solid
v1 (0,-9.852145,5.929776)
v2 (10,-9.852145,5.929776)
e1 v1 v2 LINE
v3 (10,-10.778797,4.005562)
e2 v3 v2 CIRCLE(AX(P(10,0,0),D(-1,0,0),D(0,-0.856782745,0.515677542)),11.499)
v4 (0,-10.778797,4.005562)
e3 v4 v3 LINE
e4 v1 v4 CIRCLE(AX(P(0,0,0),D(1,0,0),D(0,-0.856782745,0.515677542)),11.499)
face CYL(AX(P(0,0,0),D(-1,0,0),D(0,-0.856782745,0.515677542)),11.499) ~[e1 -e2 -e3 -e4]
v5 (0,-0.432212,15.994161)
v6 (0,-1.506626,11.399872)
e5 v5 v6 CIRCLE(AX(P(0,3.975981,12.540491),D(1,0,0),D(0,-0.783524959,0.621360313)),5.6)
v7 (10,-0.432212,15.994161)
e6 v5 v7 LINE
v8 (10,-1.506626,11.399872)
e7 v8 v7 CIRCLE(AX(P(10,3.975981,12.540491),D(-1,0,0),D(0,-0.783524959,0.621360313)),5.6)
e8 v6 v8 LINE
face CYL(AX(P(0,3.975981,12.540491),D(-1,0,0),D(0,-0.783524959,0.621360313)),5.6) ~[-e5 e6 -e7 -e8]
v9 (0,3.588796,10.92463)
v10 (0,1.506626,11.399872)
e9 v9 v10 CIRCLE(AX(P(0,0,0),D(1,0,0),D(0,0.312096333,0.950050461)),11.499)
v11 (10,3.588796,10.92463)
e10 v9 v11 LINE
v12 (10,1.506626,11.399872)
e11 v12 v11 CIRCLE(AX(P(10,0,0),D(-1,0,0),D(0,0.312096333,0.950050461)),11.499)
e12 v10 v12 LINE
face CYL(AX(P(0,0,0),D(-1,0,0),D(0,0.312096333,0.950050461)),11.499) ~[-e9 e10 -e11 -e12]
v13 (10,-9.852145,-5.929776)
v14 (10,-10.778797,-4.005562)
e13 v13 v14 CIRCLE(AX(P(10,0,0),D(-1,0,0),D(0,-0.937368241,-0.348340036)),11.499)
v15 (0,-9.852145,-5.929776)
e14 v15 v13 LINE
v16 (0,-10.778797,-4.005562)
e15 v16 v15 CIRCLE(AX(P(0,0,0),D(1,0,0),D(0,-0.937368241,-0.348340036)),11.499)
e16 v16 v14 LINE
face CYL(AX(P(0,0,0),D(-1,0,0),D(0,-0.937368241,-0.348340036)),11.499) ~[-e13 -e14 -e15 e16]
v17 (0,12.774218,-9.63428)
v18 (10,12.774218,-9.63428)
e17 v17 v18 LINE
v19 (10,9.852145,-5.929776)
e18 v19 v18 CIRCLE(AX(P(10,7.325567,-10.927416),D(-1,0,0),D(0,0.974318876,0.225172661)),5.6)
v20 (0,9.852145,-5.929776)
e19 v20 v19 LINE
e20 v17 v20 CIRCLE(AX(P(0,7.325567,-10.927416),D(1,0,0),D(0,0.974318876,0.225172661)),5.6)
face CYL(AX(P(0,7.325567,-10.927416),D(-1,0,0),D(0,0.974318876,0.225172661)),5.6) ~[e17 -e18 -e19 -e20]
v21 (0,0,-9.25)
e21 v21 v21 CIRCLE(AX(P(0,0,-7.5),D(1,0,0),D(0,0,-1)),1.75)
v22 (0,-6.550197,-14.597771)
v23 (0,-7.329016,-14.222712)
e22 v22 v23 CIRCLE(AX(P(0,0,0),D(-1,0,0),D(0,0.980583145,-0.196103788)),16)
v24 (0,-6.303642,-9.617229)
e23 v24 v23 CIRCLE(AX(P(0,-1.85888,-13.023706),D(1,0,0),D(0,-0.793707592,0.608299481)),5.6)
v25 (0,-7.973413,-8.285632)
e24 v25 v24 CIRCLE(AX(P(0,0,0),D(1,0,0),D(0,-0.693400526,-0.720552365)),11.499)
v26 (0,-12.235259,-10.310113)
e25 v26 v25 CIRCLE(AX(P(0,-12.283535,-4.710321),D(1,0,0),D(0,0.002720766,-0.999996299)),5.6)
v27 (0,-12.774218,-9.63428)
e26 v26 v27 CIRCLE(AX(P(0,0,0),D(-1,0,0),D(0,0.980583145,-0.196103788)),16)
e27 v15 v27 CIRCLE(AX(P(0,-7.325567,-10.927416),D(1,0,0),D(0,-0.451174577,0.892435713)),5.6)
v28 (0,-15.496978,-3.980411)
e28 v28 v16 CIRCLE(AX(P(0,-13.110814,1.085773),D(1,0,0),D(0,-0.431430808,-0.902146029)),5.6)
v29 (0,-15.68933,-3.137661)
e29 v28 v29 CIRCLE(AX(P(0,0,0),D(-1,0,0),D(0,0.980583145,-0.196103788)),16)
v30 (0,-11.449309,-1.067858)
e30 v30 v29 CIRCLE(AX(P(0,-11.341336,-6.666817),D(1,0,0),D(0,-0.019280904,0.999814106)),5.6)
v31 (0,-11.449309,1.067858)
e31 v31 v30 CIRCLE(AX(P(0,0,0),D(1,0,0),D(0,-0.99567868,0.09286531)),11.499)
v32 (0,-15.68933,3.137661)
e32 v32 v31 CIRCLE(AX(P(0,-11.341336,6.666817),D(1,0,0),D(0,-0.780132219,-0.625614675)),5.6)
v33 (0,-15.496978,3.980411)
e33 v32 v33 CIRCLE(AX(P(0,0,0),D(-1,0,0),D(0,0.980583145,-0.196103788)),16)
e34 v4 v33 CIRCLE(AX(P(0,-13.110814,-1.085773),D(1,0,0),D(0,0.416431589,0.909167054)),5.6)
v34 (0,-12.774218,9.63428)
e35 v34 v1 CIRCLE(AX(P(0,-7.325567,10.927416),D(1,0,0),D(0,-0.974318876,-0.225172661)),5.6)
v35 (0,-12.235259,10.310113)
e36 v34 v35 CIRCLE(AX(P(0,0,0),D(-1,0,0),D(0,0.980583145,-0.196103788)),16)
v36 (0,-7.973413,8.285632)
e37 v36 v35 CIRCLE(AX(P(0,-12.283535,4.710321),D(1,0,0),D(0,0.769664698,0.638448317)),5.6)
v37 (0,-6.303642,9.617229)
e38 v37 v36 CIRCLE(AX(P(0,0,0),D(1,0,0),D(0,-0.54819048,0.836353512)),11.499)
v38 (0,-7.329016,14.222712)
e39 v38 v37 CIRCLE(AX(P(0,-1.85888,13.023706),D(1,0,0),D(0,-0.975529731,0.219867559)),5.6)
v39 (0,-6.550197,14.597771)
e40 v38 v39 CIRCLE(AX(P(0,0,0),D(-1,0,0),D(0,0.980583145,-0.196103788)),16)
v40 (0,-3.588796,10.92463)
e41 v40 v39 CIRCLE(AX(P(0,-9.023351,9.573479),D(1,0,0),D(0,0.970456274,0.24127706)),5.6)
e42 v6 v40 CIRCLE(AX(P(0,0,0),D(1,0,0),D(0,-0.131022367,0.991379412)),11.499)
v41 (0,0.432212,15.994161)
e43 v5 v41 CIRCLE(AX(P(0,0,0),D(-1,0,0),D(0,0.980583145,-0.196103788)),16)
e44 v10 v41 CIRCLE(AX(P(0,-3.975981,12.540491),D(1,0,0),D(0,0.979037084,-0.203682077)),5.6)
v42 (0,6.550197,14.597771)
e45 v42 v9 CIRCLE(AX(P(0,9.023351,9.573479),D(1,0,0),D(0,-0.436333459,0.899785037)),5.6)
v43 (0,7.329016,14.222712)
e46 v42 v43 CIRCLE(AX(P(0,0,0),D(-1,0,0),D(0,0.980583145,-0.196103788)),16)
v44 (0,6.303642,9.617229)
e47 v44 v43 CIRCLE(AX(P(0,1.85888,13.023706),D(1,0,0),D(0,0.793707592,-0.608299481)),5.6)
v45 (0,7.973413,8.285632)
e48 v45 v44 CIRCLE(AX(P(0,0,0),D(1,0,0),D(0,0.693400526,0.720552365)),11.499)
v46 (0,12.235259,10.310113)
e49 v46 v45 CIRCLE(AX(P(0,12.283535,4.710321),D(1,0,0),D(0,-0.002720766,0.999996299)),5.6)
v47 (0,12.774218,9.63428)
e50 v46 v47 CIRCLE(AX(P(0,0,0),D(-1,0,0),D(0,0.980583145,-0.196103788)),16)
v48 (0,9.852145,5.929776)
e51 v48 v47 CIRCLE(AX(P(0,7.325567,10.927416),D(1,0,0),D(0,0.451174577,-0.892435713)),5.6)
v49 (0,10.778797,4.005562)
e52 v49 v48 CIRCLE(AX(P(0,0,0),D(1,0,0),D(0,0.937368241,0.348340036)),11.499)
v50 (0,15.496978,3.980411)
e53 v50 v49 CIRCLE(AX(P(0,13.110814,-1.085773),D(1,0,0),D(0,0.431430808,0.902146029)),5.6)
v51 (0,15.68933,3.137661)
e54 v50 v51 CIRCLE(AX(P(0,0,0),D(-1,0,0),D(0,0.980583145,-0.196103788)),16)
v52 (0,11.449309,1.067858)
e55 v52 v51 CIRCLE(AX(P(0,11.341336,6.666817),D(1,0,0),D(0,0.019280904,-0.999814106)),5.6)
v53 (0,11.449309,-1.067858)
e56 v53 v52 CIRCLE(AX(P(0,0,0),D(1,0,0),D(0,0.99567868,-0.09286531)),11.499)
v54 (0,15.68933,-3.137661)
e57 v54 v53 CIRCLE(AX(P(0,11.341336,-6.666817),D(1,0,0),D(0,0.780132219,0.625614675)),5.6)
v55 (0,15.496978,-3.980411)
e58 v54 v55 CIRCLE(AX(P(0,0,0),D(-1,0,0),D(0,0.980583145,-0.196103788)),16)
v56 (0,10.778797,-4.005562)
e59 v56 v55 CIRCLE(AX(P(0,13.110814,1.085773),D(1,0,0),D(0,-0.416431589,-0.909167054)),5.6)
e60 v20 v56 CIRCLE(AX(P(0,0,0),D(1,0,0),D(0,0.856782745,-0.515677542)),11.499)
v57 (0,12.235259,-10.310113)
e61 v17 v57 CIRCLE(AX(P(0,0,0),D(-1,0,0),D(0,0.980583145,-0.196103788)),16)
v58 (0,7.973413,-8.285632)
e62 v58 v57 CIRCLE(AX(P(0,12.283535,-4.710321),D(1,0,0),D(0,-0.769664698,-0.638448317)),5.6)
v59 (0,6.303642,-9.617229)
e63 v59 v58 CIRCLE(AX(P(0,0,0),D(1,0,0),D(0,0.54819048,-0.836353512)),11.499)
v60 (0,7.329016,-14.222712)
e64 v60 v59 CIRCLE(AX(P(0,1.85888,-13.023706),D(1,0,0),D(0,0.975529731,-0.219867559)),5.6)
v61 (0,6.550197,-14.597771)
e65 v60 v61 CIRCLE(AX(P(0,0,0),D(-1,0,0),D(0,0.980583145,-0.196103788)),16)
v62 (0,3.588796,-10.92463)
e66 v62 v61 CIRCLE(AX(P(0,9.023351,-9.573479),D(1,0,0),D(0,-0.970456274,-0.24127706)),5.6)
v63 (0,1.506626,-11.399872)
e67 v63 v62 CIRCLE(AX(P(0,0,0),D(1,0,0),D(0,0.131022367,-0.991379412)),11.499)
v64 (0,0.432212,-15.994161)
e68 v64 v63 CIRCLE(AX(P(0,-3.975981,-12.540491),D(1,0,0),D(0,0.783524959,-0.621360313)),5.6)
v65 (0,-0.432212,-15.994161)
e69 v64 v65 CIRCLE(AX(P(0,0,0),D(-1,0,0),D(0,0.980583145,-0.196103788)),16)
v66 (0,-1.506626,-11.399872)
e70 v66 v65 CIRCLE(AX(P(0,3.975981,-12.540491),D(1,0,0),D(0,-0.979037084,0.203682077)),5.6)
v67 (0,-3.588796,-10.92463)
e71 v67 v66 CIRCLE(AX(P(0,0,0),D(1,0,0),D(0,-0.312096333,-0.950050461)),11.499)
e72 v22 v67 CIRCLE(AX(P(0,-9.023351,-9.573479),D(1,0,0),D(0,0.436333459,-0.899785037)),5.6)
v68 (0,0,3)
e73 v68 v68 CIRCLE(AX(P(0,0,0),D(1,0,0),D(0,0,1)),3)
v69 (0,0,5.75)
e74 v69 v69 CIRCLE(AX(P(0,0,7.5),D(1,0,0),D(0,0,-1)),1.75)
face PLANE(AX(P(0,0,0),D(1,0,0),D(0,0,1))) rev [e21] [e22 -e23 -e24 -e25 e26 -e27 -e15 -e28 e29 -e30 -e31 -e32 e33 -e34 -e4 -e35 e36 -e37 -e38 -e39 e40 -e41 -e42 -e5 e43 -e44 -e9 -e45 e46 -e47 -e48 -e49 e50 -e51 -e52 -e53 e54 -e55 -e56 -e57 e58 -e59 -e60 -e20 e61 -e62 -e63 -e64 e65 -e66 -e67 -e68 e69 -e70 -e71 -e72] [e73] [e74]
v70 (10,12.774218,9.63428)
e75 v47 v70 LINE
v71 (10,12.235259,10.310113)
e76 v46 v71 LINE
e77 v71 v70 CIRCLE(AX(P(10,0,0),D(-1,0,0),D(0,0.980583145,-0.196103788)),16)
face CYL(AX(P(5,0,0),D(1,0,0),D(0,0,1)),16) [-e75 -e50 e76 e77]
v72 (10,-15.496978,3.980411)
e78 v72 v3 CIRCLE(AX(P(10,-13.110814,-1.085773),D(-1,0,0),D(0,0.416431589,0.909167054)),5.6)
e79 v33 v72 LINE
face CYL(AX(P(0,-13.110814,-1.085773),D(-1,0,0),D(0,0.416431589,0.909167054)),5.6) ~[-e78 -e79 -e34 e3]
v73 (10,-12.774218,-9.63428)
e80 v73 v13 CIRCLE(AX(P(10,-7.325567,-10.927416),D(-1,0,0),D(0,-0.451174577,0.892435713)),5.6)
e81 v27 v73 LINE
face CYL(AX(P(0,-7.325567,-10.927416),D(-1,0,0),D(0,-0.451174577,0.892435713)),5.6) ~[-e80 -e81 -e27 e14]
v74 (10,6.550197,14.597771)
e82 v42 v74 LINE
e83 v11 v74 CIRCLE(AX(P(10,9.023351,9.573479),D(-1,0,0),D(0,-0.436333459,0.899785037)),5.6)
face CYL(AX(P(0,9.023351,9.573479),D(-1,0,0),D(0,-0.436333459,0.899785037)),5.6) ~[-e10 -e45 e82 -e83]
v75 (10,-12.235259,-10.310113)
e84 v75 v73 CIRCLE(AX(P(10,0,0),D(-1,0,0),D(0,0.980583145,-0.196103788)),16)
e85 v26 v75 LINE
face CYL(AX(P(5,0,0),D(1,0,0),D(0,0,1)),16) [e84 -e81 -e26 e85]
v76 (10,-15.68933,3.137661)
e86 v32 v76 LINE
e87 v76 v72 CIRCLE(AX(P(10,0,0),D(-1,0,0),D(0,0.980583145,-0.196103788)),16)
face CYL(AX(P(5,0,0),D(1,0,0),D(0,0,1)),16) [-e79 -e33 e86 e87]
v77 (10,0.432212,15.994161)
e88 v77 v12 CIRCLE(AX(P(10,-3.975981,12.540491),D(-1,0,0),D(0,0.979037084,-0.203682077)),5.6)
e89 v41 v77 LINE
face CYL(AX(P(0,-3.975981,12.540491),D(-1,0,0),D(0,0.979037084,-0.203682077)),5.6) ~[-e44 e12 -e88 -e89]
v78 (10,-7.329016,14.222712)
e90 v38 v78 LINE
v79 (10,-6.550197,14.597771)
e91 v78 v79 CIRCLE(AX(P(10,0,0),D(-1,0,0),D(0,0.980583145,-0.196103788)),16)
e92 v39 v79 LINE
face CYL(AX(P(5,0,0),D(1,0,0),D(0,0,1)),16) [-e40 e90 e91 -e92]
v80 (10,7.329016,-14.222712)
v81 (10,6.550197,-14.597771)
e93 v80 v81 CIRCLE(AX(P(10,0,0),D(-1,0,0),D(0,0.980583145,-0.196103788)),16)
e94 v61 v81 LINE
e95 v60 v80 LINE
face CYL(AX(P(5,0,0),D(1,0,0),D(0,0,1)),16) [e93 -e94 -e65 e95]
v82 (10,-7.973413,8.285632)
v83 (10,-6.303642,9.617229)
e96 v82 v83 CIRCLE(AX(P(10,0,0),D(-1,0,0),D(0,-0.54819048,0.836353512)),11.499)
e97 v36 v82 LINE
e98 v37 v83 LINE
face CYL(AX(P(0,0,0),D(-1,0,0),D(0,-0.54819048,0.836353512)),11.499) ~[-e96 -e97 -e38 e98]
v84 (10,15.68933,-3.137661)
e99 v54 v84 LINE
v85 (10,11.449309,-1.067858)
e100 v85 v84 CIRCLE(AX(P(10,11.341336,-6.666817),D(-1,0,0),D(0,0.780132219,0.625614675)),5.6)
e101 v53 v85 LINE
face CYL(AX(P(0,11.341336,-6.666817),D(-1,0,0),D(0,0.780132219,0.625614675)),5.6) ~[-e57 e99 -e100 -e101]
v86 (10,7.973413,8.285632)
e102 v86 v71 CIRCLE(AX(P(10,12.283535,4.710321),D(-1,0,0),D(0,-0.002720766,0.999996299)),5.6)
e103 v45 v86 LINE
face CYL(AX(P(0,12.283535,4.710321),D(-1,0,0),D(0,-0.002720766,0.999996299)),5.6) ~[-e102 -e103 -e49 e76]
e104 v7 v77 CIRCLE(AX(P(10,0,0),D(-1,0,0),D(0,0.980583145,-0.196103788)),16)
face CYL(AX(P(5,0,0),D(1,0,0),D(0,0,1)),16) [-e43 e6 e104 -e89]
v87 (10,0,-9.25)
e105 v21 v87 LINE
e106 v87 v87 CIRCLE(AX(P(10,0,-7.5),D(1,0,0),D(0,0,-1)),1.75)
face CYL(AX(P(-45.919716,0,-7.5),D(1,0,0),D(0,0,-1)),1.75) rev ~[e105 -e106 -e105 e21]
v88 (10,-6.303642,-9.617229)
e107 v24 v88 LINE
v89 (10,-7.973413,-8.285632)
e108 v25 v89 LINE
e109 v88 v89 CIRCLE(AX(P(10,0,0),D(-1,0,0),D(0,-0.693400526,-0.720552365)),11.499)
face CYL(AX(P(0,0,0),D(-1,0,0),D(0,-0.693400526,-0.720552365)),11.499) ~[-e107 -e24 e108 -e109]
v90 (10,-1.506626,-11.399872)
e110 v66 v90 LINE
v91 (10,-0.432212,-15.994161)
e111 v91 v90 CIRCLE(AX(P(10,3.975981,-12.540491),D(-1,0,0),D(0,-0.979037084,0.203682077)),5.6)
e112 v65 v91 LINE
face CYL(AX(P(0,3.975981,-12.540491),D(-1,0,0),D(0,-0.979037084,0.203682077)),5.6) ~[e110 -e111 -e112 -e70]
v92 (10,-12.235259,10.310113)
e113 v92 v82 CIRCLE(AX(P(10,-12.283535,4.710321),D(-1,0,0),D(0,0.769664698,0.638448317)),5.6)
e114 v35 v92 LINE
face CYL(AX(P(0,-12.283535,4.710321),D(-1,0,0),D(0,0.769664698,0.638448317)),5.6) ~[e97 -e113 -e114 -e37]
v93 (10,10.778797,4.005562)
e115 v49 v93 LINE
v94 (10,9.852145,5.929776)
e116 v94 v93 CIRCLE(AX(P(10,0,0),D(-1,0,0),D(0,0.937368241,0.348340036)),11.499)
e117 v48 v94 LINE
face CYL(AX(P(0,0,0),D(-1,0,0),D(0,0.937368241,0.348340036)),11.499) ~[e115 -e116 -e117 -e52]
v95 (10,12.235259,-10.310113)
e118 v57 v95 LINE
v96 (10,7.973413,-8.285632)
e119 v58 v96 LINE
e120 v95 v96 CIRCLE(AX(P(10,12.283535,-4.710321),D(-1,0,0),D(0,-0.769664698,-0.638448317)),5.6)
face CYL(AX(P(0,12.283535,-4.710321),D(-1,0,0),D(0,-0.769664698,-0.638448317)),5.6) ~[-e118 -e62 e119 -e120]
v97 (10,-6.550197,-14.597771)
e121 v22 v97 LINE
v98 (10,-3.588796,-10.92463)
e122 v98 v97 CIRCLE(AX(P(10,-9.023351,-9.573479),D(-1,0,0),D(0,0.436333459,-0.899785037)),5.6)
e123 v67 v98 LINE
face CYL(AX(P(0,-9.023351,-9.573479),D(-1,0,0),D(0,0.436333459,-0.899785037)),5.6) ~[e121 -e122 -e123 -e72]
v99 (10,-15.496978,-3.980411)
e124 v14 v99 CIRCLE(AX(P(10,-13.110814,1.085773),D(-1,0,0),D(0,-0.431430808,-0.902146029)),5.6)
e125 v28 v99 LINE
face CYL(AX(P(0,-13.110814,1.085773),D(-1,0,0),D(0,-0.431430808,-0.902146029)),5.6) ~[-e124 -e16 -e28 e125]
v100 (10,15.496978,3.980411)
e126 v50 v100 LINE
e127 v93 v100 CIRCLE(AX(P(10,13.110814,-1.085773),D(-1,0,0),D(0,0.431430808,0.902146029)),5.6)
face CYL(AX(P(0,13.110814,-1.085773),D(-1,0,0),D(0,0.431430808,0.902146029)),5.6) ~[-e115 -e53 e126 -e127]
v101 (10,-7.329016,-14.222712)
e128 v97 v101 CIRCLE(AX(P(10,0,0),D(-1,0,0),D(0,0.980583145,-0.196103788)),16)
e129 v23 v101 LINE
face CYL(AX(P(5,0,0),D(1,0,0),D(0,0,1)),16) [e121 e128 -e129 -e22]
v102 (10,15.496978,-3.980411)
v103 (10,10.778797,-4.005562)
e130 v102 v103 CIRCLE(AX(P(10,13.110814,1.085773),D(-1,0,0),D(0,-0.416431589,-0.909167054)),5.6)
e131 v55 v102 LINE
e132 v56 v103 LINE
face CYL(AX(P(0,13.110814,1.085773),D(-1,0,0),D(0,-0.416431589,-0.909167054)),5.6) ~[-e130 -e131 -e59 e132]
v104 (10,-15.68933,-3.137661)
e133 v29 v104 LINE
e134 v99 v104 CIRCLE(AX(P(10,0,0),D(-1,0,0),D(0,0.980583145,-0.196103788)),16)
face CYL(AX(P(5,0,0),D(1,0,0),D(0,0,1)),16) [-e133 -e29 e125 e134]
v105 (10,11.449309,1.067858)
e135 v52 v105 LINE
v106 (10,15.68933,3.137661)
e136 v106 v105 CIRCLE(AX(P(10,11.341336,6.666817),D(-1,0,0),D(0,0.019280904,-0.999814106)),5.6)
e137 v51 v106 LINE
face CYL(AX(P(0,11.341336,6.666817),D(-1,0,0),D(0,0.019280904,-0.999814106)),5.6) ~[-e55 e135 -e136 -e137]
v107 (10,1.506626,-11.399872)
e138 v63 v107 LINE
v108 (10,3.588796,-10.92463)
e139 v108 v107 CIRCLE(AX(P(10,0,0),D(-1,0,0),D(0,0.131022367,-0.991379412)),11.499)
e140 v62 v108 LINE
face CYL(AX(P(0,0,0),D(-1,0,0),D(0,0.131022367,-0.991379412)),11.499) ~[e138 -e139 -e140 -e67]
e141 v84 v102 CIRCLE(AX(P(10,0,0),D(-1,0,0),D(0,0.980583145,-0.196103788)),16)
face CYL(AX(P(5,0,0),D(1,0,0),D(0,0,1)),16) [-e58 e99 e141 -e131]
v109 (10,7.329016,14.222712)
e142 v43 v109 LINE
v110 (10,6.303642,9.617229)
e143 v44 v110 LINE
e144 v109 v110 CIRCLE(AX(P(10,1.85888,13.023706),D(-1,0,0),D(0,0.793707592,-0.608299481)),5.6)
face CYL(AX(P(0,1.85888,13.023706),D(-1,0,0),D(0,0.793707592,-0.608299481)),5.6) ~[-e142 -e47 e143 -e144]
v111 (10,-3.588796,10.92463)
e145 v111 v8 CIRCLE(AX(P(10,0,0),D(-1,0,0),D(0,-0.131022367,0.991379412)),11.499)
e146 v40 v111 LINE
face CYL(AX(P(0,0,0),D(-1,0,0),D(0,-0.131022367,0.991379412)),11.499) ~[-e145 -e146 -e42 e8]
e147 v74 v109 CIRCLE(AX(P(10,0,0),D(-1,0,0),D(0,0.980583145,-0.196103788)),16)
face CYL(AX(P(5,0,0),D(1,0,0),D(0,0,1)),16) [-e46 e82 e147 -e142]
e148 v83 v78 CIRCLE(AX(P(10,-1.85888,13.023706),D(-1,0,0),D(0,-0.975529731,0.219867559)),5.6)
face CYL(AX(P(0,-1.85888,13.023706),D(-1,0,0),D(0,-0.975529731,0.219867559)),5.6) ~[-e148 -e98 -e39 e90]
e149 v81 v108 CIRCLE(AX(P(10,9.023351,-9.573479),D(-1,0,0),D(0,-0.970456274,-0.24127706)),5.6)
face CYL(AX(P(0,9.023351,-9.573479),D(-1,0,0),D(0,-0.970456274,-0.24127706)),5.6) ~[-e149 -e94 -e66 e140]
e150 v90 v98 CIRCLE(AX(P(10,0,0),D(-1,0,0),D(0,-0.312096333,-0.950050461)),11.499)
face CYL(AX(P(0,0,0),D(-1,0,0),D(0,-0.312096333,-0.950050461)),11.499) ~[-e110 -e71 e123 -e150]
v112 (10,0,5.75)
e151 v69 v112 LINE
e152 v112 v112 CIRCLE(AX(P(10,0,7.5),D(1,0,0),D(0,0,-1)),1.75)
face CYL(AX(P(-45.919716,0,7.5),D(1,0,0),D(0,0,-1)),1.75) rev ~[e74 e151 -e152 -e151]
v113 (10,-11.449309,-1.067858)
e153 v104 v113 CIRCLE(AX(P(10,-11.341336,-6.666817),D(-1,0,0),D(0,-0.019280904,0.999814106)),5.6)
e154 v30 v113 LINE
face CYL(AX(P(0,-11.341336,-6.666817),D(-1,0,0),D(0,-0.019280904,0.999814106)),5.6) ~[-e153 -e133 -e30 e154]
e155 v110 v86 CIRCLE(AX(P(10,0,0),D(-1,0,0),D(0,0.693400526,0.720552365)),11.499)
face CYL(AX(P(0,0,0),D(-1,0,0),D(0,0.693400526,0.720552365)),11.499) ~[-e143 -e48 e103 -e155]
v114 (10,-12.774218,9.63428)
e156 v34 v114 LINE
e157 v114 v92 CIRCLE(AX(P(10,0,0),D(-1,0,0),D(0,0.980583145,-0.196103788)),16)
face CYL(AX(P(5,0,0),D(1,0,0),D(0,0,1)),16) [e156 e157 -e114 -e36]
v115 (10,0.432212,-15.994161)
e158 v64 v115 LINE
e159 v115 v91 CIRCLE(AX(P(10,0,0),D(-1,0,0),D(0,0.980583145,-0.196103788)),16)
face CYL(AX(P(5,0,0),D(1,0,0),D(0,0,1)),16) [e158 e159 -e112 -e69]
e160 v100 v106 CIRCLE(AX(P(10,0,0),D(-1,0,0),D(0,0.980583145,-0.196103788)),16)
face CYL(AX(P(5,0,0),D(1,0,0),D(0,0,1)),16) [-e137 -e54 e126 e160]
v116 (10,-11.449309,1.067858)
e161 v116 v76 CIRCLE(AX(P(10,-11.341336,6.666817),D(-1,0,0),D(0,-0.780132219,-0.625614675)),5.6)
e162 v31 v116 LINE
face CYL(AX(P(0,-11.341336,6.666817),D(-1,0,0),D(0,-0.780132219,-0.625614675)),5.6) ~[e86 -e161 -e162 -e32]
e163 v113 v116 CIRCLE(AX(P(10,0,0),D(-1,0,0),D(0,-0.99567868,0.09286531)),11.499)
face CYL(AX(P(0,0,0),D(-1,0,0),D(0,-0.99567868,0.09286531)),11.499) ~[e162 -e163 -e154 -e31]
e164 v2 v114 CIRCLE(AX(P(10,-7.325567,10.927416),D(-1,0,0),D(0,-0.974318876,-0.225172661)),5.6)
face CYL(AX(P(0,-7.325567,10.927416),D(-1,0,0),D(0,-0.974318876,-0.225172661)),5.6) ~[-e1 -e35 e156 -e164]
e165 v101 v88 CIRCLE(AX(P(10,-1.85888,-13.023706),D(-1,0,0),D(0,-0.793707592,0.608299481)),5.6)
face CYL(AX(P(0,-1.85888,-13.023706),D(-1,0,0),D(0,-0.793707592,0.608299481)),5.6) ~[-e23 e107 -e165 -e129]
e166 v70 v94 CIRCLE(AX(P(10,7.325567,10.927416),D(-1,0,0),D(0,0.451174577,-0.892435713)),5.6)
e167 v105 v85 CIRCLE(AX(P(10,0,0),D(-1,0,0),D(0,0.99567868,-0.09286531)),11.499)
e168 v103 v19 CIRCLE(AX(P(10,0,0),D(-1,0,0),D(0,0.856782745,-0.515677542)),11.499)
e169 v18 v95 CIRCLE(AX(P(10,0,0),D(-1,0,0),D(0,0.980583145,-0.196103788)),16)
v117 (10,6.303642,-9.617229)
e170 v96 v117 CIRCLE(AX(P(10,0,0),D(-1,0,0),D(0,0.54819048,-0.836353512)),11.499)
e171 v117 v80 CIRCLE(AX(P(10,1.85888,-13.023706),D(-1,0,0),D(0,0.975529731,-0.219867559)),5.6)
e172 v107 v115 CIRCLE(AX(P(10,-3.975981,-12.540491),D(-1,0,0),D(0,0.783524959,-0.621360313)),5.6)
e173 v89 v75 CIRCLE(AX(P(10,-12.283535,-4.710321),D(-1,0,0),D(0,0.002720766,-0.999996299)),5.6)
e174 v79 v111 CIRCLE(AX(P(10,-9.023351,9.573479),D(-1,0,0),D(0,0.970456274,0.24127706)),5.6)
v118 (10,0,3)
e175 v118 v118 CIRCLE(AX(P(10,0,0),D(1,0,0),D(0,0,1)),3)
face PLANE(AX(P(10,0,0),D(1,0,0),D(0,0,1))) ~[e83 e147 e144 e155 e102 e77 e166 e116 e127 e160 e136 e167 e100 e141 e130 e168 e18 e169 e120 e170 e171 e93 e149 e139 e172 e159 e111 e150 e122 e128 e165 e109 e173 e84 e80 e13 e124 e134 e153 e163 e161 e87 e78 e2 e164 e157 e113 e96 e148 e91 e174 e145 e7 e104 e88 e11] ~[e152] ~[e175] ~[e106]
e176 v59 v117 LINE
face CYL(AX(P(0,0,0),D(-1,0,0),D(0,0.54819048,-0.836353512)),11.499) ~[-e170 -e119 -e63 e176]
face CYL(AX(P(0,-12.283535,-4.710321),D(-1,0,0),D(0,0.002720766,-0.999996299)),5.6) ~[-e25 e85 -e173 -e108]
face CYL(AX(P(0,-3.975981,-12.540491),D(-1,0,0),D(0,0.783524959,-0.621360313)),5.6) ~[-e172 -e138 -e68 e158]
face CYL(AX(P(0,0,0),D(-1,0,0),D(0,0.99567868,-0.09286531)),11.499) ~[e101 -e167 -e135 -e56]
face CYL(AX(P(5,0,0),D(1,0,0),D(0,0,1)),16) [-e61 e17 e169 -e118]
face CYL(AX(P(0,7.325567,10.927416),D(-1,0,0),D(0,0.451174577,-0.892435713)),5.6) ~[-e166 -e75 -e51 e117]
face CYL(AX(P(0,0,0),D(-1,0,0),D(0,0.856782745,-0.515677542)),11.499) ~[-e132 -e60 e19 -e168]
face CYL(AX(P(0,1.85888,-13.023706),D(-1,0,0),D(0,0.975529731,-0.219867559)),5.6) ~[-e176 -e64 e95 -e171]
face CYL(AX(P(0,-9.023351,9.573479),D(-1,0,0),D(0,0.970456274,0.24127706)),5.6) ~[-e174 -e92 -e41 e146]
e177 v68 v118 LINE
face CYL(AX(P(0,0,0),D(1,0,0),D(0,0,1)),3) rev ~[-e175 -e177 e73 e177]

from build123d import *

# Parameters (mm, degrees)
BASPROSKE_W        = 10
BASPROSKE_H        = 16
TOOTHCUT_DEPTH     = 25.738633754
TEETHCUTS_COUNT    = 14
TEETHCUTS_ANGLE    = 334.285714286
BORSKE_R           = 3
BORE_DEPTH         = 50.0000508
HOLE_WIZARD_M3_1_D = 3.5


with BuildPart() as part:
    # BasProSke → Base-Revolve (revolve)
    with BuildSketch(Plane(origin=(0, 0, 0), x_dir=(1, 0, 0), z_dir=(0, 1, 0)), mode=Mode.PRIVATE) as base_revolve_sk:
        with Locations((5, 8)):
            Rectangle(BASPROSKE_W, BASPROSKE_H)
    revolve(base_revolve_sk.sketch.rotate(Axis((-10, 0, 0), (1, 0, 0)), 180), axis=Axis((-10, 0, 0), (1, 0, 0)))

    # TooCutSke → ToothCut (cut, through all)
    with BuildSketch(Plane(origin=(0, 0, 0), x_dir=(0, 0, -1), z_dir=(1, 0, 0))):
        with BuildLine():
            ThreePointArc((1.067858192, 11.449309144), (0, 11.499), (-1.067858192, 11.449309144))
            ThreePointArc((-1.067858192, 11.449309144), (-1.641684211, 13.812780716), (-3.163375005, 15.710076503))
            ThreePointArc((-3.163375005, 15.710076503), (0, 16.0254), (3.163375005, 15.710076503))
            ThreePointArc((3.163375005, 15.710076503), (1.641684211, 13.812780716), (1.067858192, 11.449309144))
        make_face()
    toothcut = extrude(amount=TOOTHCUT_DEPTH, mode=Mode.SUBTRACT)

    # TeethCuts: ToothCut ×14 about axis
    teethcuts_axis = Axis((-10, 0, 0), (1, 0, 0))
    for i in range(1, TEETHCUTS_COUNT):
        add(toothcut.rotate(teethcuts_axis, i * TEETHCUTS_ANGLE / (TEETHCUTS_COUNT - 1)), mode=Mode.SUBTRACT)

    # BorSke → Bore (cut, symmetric)
    with BuildSketch(Plane(origin=(0, 0, 0), x_dir=(0, 0, -1), z_dir=(1, 0, 0))):
        with Locations(Location((0, 0, 0), (0, 0, 180))):
            Circle(BORSKE_R)
    extrude(amount=BORE_DEPTH, both=True, mode=Mode.SUBTRACT)

    # M3 すきま穴1 (through all)
    with Locations(Plane.ZY):
        with Locations((7.5, 0), (-7.5, 0)):
            Hole(HOLE_WIZARD_M3_1_D / 2)


solid = part.part
